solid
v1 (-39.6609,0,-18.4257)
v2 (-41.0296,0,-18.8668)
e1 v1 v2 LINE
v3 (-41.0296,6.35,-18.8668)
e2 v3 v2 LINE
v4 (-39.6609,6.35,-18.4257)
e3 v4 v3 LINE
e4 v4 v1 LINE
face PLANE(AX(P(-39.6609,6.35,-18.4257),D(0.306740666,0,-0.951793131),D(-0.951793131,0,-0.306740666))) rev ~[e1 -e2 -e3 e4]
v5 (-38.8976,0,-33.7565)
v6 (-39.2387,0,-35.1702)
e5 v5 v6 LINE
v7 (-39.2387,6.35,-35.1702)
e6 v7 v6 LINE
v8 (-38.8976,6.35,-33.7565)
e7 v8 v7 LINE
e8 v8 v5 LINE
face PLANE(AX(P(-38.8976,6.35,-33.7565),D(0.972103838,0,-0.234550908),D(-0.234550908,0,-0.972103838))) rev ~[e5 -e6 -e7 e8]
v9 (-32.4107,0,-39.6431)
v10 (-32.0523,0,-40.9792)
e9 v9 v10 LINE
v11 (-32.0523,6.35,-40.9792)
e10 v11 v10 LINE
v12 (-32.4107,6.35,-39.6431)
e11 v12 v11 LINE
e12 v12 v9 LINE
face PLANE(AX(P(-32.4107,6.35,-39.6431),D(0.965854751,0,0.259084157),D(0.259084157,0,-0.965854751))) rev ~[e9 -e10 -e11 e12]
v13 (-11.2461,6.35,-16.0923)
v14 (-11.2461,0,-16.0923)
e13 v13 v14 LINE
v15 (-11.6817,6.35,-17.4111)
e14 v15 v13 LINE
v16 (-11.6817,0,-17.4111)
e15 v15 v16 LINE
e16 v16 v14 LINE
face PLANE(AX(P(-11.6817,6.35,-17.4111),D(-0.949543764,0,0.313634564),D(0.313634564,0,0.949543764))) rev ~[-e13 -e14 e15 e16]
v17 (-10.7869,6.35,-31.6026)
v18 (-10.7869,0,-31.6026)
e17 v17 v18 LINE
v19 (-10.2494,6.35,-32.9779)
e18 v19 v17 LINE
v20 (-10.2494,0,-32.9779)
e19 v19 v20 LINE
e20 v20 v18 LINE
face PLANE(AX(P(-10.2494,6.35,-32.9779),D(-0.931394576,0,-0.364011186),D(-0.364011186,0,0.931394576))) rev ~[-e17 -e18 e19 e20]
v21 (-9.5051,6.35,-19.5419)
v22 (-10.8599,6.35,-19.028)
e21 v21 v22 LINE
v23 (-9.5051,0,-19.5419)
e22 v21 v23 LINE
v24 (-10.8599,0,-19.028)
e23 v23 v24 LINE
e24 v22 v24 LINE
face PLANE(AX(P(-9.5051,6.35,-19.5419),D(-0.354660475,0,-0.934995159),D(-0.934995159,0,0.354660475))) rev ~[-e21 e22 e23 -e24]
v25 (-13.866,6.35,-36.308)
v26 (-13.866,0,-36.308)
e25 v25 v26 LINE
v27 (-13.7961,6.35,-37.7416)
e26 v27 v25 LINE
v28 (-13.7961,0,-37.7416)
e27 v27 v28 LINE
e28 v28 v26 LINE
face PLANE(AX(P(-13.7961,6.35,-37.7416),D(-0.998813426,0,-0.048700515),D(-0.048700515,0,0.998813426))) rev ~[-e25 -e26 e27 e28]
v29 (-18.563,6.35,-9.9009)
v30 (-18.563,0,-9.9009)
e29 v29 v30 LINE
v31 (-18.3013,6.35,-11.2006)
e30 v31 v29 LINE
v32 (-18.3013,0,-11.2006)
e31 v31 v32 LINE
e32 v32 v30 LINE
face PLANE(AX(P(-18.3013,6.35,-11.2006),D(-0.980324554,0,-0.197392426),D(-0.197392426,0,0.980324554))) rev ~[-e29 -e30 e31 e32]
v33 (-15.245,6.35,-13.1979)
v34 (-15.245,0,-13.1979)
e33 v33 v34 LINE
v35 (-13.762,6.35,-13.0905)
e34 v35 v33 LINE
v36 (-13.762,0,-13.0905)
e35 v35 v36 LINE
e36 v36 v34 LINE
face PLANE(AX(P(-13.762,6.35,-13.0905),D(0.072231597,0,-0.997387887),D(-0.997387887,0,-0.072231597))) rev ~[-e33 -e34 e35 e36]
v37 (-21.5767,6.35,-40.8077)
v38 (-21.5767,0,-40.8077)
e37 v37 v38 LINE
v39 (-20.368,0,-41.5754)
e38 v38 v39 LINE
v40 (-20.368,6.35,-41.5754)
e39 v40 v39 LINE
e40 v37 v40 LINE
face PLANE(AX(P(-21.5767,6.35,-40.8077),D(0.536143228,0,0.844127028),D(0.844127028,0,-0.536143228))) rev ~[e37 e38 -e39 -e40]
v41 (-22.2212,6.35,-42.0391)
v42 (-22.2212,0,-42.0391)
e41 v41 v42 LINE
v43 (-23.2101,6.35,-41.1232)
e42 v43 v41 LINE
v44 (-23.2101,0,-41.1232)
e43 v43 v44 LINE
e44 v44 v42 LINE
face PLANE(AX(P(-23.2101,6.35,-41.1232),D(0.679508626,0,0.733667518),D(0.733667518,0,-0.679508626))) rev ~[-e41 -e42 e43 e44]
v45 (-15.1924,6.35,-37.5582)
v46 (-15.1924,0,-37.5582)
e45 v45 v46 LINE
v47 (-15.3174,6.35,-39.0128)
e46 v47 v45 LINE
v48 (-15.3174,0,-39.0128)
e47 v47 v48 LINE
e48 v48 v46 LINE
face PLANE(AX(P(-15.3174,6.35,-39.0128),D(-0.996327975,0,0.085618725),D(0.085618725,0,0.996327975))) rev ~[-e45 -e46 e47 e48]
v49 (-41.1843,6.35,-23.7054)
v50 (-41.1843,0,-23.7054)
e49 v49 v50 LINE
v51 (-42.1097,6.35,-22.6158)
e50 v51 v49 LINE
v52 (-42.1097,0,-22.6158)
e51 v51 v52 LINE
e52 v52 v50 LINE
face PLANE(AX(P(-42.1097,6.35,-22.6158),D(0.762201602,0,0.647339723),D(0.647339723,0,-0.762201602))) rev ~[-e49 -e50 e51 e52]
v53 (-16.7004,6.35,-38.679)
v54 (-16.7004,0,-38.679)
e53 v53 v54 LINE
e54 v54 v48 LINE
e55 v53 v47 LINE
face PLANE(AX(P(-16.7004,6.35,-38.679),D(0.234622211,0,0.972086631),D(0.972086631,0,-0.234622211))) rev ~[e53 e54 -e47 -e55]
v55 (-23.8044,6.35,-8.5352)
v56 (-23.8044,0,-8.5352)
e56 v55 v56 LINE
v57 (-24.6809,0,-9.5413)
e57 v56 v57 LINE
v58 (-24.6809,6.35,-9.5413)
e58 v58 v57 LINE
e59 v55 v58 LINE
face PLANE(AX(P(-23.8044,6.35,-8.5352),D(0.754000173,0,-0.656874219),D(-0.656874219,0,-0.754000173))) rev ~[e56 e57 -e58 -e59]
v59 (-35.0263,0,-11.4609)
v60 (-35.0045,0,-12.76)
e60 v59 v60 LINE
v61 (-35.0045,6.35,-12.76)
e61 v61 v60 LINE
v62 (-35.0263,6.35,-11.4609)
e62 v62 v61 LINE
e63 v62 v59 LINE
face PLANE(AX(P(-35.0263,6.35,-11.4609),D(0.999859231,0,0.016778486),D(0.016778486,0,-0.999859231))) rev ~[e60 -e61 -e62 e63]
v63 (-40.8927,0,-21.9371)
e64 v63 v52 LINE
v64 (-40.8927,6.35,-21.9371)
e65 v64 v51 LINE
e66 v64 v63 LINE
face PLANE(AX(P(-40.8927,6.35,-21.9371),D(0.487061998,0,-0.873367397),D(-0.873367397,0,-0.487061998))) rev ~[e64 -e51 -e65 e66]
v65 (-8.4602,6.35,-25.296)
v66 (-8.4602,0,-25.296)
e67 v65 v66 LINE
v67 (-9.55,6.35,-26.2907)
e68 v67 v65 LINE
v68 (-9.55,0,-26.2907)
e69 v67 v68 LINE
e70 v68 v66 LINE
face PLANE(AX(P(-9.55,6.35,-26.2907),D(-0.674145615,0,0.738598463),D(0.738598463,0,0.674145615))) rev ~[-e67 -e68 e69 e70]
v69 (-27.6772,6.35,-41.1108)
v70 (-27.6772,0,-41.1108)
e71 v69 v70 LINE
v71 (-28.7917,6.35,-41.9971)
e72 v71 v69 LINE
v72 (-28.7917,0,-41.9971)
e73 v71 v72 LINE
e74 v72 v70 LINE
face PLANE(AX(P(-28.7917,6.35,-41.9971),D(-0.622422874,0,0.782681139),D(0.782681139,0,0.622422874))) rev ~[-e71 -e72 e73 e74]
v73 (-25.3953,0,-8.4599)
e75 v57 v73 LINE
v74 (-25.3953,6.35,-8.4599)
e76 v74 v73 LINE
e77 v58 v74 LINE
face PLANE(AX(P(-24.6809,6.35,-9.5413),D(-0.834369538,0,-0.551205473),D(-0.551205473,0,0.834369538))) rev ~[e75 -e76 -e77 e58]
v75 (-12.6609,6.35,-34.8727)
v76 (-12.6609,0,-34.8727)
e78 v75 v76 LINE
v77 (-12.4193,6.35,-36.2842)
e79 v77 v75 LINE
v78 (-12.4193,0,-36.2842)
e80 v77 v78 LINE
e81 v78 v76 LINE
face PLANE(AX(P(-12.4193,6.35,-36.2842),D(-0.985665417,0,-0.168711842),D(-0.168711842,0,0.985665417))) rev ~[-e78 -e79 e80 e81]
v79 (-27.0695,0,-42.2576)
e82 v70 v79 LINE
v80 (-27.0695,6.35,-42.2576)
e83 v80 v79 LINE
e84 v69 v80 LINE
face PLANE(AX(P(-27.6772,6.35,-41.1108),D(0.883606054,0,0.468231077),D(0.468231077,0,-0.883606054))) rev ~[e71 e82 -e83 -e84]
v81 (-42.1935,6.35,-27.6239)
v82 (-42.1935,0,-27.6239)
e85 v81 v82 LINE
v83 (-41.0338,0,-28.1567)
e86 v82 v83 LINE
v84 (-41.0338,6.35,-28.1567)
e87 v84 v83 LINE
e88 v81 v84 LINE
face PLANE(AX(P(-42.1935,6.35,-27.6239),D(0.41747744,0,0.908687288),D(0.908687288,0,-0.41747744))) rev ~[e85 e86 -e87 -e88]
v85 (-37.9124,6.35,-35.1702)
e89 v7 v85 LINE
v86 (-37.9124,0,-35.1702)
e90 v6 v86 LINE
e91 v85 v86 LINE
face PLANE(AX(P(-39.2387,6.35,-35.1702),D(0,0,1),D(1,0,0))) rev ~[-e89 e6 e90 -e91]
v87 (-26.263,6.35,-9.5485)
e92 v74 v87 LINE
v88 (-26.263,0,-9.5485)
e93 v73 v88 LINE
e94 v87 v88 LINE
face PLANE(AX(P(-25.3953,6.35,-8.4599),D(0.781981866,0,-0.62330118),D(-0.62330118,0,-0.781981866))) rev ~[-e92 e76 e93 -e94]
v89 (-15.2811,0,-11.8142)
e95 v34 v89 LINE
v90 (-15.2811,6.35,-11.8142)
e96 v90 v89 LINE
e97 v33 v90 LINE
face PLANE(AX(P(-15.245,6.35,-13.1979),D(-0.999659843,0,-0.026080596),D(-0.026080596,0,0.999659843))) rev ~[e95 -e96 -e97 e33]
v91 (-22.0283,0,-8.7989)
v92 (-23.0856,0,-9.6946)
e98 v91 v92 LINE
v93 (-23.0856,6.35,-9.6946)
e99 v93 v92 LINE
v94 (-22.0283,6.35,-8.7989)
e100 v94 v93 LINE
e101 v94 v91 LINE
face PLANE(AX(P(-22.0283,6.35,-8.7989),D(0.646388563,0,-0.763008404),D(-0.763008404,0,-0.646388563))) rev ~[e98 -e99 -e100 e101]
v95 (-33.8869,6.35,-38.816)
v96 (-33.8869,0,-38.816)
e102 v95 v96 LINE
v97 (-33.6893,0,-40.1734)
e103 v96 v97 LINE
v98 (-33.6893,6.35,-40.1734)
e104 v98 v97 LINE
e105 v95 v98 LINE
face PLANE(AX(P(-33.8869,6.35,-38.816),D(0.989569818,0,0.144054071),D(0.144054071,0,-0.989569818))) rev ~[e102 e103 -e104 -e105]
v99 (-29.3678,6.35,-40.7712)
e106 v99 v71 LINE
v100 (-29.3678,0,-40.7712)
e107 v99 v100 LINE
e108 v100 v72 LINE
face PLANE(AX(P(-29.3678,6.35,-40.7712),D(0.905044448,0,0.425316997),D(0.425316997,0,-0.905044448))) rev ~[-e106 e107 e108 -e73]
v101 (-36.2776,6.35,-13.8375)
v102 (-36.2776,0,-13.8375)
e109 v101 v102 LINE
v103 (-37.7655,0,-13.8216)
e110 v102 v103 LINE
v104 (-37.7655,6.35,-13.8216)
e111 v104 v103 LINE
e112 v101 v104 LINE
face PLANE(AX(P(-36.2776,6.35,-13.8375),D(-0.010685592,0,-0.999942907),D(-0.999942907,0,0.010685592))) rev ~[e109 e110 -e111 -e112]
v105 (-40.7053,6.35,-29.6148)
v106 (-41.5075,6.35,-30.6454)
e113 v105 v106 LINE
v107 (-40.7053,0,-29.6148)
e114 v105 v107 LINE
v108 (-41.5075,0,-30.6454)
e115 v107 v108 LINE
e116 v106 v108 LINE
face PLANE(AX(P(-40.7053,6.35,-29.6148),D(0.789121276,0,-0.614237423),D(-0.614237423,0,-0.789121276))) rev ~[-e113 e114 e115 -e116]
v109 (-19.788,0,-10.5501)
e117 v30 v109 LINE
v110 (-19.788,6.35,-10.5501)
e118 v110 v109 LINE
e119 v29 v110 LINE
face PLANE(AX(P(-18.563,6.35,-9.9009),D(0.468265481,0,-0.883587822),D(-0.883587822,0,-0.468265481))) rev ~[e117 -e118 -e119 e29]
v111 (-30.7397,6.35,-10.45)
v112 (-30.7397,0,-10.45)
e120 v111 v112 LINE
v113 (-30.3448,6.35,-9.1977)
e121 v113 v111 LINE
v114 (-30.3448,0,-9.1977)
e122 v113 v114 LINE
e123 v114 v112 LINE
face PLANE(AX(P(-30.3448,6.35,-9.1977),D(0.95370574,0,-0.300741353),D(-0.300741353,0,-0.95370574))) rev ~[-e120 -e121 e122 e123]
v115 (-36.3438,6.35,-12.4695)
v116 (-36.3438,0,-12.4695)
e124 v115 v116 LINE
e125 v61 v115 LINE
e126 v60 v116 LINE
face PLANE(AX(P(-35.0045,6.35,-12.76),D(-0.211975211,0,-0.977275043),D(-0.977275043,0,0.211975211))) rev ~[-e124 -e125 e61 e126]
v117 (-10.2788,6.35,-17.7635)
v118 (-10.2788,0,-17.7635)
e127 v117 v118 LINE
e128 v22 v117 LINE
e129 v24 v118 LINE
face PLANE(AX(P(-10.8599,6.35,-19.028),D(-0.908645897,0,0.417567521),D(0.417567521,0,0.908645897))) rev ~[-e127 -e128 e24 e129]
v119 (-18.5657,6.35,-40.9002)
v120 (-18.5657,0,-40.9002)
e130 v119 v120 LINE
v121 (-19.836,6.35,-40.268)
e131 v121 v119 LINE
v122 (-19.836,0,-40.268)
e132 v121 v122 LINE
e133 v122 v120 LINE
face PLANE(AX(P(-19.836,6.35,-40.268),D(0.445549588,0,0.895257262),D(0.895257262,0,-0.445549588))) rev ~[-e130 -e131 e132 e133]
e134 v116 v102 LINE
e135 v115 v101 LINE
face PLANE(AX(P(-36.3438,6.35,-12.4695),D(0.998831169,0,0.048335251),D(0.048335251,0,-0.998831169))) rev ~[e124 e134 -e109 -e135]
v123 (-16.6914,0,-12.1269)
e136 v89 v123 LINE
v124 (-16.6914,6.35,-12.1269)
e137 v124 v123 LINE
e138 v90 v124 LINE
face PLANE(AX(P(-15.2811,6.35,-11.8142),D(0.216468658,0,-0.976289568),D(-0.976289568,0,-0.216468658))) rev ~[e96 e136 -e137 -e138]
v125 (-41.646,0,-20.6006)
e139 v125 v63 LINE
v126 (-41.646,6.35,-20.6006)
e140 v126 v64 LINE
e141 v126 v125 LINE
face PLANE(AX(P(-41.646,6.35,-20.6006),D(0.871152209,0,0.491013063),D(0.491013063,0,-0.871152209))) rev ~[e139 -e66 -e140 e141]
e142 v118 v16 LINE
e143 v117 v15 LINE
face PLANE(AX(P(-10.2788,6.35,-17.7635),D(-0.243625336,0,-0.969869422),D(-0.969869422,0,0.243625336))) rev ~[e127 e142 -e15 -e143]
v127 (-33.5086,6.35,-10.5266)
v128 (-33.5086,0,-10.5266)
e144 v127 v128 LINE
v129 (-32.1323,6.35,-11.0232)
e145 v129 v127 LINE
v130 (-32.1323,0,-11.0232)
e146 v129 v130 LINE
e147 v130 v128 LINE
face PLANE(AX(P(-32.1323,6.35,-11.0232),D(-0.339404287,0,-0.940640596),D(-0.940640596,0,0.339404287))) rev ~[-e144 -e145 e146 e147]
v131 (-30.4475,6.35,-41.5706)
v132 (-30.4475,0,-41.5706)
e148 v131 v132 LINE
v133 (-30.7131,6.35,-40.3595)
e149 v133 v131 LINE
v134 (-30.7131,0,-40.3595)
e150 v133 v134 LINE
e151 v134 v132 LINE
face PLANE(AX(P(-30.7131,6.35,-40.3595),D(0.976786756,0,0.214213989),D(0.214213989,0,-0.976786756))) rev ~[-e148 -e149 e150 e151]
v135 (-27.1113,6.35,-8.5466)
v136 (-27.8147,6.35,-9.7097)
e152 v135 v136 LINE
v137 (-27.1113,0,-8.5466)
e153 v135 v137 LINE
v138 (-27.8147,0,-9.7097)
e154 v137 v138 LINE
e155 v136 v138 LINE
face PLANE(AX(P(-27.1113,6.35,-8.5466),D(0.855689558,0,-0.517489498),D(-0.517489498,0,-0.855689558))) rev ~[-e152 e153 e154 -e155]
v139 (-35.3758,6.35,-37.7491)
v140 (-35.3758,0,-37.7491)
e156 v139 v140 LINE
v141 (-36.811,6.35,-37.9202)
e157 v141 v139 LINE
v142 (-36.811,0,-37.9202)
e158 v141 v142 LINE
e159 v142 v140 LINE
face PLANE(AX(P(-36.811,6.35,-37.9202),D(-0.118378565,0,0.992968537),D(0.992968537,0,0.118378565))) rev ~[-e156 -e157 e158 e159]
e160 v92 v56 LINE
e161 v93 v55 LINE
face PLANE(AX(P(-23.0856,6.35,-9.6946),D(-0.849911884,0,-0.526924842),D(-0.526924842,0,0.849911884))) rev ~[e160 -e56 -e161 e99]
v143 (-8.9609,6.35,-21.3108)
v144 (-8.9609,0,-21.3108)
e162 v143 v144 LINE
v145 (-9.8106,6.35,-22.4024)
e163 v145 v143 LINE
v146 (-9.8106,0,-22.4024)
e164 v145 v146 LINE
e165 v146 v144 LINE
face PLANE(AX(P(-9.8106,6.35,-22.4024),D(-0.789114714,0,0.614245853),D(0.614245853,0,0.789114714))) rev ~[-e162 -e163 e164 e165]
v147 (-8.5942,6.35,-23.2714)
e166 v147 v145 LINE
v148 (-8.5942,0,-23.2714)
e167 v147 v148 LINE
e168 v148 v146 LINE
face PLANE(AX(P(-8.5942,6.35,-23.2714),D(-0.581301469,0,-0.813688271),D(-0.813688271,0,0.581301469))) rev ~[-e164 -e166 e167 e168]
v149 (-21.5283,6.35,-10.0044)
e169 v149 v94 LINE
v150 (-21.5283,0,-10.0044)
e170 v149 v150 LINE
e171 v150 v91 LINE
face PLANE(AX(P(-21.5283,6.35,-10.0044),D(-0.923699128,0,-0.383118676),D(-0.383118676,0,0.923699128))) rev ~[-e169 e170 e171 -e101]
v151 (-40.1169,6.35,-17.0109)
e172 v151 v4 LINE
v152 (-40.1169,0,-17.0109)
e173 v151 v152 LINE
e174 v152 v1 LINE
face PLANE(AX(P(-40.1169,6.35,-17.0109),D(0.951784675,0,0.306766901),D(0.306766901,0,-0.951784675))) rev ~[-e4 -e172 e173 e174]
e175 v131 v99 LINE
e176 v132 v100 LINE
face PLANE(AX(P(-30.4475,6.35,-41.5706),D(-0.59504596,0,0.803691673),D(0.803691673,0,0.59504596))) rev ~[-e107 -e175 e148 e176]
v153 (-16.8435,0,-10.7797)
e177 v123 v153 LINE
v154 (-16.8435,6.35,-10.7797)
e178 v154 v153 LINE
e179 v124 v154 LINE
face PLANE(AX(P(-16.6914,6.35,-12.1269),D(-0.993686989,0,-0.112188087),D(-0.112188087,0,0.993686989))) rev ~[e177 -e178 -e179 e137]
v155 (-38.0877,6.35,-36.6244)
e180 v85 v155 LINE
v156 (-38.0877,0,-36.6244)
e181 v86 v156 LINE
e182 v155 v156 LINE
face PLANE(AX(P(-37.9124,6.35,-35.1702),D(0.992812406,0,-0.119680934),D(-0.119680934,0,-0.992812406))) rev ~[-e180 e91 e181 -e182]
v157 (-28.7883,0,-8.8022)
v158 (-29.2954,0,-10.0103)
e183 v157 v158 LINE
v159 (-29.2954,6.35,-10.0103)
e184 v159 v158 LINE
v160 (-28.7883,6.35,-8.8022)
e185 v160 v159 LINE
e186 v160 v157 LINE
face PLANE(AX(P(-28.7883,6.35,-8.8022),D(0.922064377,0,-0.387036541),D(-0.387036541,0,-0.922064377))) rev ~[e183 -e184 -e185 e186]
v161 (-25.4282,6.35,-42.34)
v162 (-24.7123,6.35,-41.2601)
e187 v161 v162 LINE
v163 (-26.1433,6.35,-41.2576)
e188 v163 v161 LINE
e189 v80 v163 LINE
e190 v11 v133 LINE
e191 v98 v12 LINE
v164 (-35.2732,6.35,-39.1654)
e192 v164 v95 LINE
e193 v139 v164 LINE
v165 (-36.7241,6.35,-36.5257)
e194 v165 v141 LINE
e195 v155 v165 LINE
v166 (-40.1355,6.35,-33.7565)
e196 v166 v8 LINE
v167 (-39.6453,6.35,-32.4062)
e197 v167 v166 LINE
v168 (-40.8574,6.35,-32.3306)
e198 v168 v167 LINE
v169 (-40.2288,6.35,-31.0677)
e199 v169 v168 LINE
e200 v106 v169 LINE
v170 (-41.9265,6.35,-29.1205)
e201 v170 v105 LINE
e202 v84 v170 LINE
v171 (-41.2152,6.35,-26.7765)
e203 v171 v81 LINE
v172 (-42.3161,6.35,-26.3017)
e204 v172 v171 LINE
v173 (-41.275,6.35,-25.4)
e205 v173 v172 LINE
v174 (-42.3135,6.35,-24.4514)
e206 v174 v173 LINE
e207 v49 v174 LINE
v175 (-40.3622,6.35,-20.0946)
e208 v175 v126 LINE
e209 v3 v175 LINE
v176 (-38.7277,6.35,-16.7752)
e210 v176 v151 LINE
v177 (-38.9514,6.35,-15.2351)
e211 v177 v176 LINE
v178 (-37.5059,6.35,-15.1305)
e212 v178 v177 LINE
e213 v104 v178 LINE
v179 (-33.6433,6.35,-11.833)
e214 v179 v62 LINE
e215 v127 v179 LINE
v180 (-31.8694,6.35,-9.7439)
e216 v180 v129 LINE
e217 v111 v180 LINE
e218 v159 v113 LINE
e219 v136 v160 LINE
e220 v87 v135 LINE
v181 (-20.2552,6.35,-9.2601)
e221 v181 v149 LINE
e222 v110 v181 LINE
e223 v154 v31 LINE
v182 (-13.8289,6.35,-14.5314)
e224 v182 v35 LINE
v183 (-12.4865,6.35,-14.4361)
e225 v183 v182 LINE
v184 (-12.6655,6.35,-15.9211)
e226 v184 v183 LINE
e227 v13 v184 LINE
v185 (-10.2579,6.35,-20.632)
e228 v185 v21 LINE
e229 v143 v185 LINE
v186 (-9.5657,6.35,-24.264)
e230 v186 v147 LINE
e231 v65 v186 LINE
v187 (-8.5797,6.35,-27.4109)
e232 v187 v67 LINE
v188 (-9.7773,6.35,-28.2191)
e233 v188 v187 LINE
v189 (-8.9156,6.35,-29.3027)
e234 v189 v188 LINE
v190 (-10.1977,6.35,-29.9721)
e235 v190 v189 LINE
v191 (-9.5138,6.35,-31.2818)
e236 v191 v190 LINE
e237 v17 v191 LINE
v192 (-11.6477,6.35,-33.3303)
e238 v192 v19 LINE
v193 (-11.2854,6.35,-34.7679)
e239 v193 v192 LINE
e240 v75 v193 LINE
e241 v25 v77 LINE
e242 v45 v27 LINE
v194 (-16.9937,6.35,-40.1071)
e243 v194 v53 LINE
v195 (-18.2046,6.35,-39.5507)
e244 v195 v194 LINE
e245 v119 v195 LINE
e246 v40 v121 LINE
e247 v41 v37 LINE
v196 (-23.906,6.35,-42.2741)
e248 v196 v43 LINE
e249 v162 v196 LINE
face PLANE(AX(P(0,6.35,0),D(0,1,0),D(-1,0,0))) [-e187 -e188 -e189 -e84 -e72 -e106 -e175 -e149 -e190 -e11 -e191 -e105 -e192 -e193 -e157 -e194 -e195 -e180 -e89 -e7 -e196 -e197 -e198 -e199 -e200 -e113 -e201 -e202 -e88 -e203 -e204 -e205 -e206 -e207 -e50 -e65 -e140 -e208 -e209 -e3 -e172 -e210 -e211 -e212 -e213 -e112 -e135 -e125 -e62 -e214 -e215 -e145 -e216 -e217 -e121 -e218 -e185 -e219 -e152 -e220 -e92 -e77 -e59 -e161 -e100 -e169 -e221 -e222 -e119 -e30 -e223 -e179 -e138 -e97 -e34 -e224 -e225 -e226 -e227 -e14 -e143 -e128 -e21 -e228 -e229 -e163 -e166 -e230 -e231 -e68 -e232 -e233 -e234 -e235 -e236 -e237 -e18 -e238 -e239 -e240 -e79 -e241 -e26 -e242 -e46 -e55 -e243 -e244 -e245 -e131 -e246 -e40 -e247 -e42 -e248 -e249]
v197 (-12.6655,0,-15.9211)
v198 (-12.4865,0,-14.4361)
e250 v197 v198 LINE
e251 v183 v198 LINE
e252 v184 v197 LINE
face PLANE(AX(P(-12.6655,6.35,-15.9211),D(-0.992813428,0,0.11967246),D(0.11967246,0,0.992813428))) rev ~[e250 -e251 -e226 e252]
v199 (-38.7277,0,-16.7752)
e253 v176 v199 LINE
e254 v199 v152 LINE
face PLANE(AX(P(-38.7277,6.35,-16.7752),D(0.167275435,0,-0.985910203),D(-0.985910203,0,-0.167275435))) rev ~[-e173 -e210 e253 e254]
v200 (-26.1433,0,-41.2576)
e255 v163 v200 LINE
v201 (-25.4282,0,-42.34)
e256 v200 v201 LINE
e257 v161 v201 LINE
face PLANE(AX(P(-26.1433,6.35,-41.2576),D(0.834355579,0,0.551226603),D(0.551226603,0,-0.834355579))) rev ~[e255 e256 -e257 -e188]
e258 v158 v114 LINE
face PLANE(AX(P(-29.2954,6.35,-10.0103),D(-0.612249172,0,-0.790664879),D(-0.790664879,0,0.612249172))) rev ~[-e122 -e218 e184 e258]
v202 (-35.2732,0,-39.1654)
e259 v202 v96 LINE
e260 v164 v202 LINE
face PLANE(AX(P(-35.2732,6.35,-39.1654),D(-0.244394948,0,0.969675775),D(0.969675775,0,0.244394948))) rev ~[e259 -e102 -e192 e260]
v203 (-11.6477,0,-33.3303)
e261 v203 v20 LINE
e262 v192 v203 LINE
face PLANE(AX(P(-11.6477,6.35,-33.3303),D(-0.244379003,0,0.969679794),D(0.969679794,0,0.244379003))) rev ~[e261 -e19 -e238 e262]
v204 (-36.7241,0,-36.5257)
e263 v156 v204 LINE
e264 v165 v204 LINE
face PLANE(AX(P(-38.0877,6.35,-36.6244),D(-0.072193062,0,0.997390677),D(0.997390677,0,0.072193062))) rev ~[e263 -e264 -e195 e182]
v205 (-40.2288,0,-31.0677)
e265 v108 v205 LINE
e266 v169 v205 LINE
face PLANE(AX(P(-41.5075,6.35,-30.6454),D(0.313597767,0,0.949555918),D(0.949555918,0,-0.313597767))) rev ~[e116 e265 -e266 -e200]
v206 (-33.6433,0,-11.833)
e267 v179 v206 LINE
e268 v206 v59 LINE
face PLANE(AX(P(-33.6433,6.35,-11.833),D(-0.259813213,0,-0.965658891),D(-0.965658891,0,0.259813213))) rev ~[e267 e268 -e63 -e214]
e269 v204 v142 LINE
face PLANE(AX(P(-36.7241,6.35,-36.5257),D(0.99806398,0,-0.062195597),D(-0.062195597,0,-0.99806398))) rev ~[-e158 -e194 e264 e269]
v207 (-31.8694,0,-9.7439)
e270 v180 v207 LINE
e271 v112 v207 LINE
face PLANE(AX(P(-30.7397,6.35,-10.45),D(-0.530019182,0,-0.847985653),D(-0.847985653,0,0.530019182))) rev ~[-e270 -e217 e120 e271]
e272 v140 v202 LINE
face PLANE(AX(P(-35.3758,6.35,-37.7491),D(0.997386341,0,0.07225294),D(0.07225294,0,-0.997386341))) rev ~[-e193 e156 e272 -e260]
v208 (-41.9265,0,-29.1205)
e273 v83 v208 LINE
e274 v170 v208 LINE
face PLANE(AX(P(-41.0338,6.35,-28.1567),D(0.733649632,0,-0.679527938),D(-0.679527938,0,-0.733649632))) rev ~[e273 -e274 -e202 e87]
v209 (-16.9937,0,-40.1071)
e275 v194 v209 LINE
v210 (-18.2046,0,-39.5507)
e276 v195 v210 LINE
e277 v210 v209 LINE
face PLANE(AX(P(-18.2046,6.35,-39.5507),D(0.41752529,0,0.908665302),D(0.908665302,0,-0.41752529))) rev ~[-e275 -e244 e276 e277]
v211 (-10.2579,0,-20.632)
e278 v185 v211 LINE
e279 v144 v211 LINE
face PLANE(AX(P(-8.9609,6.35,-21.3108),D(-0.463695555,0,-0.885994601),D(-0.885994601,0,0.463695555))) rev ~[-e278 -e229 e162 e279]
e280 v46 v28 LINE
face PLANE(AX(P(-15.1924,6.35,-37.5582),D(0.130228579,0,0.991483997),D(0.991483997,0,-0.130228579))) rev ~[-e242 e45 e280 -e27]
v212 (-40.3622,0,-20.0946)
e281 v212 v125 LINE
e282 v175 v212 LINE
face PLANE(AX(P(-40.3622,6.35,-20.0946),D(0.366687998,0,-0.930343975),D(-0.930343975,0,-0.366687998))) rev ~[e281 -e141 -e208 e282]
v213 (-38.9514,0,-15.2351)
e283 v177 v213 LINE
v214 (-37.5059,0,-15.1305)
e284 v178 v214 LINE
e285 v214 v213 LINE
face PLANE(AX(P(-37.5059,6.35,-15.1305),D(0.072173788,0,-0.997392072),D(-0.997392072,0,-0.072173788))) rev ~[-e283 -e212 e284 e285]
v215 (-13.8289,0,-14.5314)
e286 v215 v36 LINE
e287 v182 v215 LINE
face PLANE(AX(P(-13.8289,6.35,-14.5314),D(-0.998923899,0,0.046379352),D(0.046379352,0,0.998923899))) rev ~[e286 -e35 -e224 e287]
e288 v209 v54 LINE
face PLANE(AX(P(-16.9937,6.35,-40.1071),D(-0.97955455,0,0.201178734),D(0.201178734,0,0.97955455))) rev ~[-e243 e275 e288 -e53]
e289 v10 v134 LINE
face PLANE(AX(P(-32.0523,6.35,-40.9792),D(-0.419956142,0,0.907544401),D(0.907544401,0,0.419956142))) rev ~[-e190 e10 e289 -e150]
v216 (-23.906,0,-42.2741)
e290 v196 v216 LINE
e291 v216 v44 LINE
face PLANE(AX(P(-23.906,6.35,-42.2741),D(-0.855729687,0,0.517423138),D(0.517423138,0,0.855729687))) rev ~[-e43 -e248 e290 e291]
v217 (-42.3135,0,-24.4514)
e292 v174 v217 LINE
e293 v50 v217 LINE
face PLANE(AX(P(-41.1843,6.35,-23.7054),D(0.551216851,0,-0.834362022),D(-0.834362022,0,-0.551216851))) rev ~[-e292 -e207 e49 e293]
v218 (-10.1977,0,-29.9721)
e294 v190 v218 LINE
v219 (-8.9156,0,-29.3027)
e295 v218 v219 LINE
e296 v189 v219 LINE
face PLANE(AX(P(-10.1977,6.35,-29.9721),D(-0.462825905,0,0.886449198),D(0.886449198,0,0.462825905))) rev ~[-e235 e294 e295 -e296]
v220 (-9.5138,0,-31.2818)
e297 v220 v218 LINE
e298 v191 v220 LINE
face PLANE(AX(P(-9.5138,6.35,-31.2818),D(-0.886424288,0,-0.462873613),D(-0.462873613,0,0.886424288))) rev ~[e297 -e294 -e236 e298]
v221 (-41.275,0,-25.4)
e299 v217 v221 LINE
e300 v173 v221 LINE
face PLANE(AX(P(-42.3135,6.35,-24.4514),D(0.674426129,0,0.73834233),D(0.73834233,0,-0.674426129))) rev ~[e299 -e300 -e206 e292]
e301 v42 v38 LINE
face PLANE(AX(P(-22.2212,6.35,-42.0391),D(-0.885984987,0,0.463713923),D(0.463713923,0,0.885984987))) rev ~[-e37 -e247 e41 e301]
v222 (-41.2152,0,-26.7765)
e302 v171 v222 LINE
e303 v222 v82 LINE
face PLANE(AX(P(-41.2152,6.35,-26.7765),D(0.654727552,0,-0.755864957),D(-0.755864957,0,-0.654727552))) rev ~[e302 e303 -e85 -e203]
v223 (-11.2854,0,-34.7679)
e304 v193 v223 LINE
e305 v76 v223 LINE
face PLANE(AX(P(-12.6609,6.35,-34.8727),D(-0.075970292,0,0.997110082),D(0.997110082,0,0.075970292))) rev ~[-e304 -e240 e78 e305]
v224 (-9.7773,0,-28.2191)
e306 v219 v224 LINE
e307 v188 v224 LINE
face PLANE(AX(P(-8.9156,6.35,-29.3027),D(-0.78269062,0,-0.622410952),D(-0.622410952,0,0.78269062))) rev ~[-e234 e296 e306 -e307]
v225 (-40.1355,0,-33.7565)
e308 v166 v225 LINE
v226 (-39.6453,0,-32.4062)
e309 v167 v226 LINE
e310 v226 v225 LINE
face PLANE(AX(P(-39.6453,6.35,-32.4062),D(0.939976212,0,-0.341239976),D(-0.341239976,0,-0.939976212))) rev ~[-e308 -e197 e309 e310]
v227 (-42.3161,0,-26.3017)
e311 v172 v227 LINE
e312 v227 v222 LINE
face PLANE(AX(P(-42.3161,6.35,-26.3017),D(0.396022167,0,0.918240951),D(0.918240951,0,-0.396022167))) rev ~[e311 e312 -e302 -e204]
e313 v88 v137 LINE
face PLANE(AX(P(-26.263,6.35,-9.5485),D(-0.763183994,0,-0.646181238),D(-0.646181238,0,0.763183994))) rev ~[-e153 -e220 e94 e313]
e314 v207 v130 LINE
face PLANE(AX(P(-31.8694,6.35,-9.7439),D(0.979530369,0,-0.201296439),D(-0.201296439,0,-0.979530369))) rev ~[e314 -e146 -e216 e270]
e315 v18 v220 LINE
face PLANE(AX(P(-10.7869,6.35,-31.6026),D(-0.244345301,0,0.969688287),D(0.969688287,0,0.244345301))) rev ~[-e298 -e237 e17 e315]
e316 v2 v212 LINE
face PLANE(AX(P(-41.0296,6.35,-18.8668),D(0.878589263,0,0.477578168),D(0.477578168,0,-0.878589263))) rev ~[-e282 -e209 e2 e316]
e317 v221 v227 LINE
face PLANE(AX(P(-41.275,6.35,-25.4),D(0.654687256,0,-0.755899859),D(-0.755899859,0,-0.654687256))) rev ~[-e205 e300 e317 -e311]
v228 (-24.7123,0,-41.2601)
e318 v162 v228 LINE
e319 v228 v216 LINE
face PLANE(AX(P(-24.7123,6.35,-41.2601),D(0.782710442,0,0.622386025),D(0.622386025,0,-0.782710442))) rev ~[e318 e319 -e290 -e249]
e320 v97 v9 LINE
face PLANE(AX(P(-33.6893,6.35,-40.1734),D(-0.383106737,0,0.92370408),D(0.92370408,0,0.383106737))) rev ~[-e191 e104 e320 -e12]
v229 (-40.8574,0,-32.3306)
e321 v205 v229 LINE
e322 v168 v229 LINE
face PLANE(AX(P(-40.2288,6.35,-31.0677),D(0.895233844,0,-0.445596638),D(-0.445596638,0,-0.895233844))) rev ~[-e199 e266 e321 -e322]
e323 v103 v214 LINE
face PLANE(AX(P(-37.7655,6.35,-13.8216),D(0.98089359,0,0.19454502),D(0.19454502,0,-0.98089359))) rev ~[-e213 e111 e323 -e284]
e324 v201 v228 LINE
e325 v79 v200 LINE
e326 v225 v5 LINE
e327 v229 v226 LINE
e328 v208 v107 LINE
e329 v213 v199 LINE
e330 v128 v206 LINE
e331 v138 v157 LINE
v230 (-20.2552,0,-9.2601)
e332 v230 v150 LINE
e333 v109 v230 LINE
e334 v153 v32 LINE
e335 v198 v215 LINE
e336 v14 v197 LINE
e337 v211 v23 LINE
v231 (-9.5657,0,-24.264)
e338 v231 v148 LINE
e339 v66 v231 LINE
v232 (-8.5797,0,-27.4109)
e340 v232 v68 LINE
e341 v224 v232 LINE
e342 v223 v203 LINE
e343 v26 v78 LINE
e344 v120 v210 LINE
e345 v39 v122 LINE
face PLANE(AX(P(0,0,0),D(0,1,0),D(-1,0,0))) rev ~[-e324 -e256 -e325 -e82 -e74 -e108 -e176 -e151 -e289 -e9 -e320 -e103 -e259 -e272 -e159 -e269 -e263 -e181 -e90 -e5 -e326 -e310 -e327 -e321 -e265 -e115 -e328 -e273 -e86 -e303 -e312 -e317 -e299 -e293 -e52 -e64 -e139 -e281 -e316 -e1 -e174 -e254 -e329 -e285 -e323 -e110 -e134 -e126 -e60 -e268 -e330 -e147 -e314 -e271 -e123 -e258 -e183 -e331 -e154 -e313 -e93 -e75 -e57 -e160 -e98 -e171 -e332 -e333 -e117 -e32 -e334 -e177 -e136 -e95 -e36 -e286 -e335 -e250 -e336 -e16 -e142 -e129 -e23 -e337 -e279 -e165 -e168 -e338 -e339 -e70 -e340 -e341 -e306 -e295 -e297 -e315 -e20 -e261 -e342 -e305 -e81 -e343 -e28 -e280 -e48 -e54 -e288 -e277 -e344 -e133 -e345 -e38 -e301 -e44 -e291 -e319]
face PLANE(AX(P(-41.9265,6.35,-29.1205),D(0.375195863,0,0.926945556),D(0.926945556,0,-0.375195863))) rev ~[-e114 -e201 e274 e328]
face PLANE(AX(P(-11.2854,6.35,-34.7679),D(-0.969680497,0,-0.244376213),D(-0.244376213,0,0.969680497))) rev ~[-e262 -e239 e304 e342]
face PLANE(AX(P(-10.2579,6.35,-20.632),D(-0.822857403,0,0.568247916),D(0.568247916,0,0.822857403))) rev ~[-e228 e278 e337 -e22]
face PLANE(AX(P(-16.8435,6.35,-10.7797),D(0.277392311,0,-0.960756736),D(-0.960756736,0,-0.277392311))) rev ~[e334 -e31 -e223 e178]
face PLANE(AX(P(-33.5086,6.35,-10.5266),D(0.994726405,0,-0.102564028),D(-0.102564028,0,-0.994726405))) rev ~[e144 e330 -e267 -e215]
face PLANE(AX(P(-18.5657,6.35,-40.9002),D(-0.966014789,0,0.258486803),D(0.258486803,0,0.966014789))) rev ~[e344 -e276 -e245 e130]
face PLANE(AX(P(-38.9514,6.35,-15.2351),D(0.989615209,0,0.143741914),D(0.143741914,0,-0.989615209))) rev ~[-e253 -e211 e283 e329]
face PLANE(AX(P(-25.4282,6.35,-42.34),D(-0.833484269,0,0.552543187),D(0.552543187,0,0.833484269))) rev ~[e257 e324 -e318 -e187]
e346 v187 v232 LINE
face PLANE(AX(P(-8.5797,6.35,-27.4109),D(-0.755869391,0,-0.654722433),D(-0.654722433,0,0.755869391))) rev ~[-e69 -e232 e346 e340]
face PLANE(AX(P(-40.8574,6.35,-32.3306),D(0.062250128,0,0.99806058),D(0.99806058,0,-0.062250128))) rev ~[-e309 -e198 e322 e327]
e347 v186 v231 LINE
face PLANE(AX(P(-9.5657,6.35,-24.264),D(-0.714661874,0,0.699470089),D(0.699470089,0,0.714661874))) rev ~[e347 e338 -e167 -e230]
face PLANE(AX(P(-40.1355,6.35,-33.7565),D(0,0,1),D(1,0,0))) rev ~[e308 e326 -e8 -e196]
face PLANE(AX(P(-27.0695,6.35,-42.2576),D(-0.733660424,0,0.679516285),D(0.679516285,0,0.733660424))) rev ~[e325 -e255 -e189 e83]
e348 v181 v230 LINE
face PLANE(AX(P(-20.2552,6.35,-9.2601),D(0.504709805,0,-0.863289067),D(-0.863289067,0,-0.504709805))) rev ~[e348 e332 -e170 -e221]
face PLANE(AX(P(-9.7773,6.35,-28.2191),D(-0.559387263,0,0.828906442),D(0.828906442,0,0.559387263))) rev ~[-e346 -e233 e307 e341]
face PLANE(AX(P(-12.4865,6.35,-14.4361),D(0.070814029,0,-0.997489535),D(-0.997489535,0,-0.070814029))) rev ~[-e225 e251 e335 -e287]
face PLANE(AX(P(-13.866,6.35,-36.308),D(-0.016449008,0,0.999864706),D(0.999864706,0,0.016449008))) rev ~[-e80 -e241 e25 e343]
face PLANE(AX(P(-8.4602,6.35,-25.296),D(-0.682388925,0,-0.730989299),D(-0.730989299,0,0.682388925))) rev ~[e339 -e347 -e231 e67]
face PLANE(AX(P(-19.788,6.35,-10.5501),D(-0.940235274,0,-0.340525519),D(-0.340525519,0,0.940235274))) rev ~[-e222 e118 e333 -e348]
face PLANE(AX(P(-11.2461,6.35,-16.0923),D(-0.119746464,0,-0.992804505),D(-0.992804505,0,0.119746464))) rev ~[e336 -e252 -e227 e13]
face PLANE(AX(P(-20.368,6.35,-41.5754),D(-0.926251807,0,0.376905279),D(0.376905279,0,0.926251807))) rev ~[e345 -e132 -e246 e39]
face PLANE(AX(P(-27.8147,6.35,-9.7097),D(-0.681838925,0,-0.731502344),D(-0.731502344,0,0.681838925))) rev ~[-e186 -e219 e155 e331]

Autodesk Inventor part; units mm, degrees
ref_plane "YZ Plane" through (0, 0, 0) normal (1, 0, 0) x (0, 1, 0)
ref_plane "XZ Plane" through (0, 0, 0) normal (0, 1, 0) x (-1, 0, 0)
ref_plane "XY Plane" through (0, 0, 0) normal (0, 0, 1) x (1, 0, 0)
sketch "Sketch1" plane through (0, 0, 0) normal (0, 1, 0) x (-1, 0, 0)
  line L0 (0, 95.0647) -> (51.2326, 95.0647)
  line L1 (51.2326, 95.0647) -> (51.2326, -90.3472)
  line L2 (51.2326, -90.3472) -> (0, -90.3472)
  line L3 (0, -90.3472) -> (0, 95.0647)
  point P0 (0, 0)
extrude "Extrusion1" add sketch "Sketch1" along normal blind 6.35
sketch "Sketch2" plane through (0, 6.35, 0) normal (0, 1, 0) x (1, 0, 0)
  line L0 (-41.275, 25.4) -> (-42.3161, 26.3017)
  line L1 (-42.3161, 26.3017) -> (-41.2152, 26.7765)
  line L2 (-41.2152, 26.7765) -> (-42.1935, 27.6239)
  line L3 (-42.1935, 27.6239) -> (-41.0338, 28.1567)
  line L4 (-41.0338, 28.1567) -> (-41.9265, 29.1205)
  line L5 (-41.9265, 29.1205) -> (-40.7053, 29.6148)
  line L6 (-40.2288, 31.0677) -> (-40.8574, 32.3306)
  line L7 (-40.8574, 32.3306) -> (-39.6453, 32.4062)
  line L8 (-40.7053, 29.6148) -> (-41.5075, 30.6454)
  line L9 (-41.5075, 30.6454) -> (-40.2288, 31.0677)
  line L10 (-39.6453, 32.4062) -> (-40.1355, 33.7565)
  line L11 (-40.1355, 33.7565) -> (-38.8976, 33.7565)
  line L12 (-38.8976, 33.7565) -> (-39.2387, 35.1702)
  line L13 (-39.2387, 35.1702) -> (-37.9124, 35.1702)
  line L14 (-37.9124, 35.1702) -> (-38.0877, 36.6244)
  line L15 (-38.0877, 36.6244) -> (-36.7241, 36.5257)
  line L16 (-36.7241, 36.5257) -> (-36.811, 37.9202)
  line L17 (-36.811, 37.9202) -> (-35.3758, 37.7491)
  line L18 (-35.3758, 37.7491) -> (-35.2732, 39.1654)
  line L19 (-35.2732, 39.1654) -> (-33.8869, 38.816)
  line L20 (-33.8869, 38.816) -> (-33.6893, 40.1734)
  line L21 (-33.6893, 40.1734) -> (-32.4107, 39.6431)
  line L22 (-32.4107, 39.6431) -> (-32.0523, 40.9792)
  line L23 (-32.0523, 40.9792) -> (-30.7131, 40.3595)
  line L24 (-30.7131, 40.3595) -> (-30.4475, 41.5706)
  line L25 (-30.4475, 41.5706) -> (-29.3678, 40.7712)
  line L26 (-29.3678, 40.7712) -> (-28.7917, 41.9971)
  line L27 (-28.7917, 41.9971) -> (-27.6772, 41.1108)
  line L28 (-27.6772, 41.1108) -> (-27.0695, 42.2576)
  line L29 (-27.0695, 42.2576) -> (-26.1433, 41.2576)
  line L30 (-26.1433, 41.2576) -> (-25.4282, 42.34)
  line L31 (-25.4282, 42.34) -> (-24.7123, 41.2601)
  line L32 (-24.7123, 41.2601) -> (-23.906, 42.2741)
  line L33 (-23.906, 42.2741) -> (-23.2101, 41.1232)
  line L34 (-23.2101, 41.1232) -> (-22.2212, 42.0391)
  line L35 (-22.2212, 42.0391) -> (-21.5767, 40.8077)
  line L36 (-21.5767, 40.8077) -> (-20.368, 41.5754)
  line L37 (-20.368, 41.5754) -> (-19.836, 40.268)
  line L38 (-19.836, 40.268) -> (-18.5657, 40.9002)
  line L39 (-18.5657, 40.9002) -> (-18.2046, 39.5507)
  line L40 (-18.2046, 39.5507) -> (-16.9937, 40.1071)
  line L41 (-16.9937, 40.1071) -> (-16.7004, 38.679)
  line L42 (-16.7004, 38.679) -> (-15.3174, 39.0128)
  line L43 (-15.3174, 39.0128) -> (-15.1924, 37.5582)
  line L44 (-15.1924, 37.5582) -> (-13.7961, 37.7416)
  line L45 (-13.7961, 37.7416) -> (-13.866, 36.308)
  line L46 (-13.866, 36.308) -> (-12.4193, 36.2842)
  line L47 (-12.4193, 36.2842) -> (-12.6609, 34.8727)
  line L48 (-12.6609, 34.8727) -> (-11.2854, 34.7679)
  line L49 (-11.2854, 34.7679) -> (-11.6477, 33.3303)
  line L50 (-11.6477, 33.3303) -> (-10.2494, 32.9779)
  line L51 (-10.2494, 32.9779) -> (-10.7869, 31.6026)
  line L52 (-10.7869, 31.6026) -> (-9.5138, 31.2818)
  line L53 (-9.5138, 31.2818) -> (-10.1977, 29.9721)
  line L54 (-10.1977, 29.9721) -> (-8.9156, 29.3027)
  line L55 (-8.9156, 29.3027) -> (-9.7773, 28.2191)
  line L56 (-9.7773, 28.2191) -> (-8.5797, 27.4109)
  line L57 (-8.5797, 27.4109) -> (-9.55, 26.2907)
  line L58 (-9.55, 26.2907) -> (-8.4602, 25.296)
  line L59 (-8.4602, 25.296) -> (-9.5657, 24.264)
  line L60 (-9.5657, 24.264) -> (-8.5942, 23.2714)
  line L61 (-8.5942, 23.2714) -> (-9.8106, 22.4024)
  line L62 (-9.8106, 22.4024) -> (-8.9609, 21.3108)
  line L63 (-8.9609, 21.3108) -> (-10.2579, 20.632)
  line L64 (-10.2579, 20.632) -> (-9.5051, 19.5419)
  line L65 (-9.5051, 19.5419) -> (-10.8599, 19.028)
  line L66 (-10.8599, 19.028) -> (-10.2788, 17.7635)
  line L67 (-10.2788, 17.7635) -> (-11.6817, 17.4111)
  line L68 (-11.6817, 17.4111) -> (-11.2461, 16.0923)
  line L69 (-11.2461, 16.0923) -> (-12.6655, 15.9211)
  line L70 (-12.6655, 15.9211) -> (-12.4865, 14.4361)
  line L71 (-12.4865, 14.4361) -> (-13.8289, 14.5314)
  line L72 (-13.8289, 14.5314) -> (-13.762, 13.0905)
  line L73 (-13.762, 13.0905) -> (-15.245, 13.1979)
  line L74 (-15.245, 13.1979) -> (-15.2811, 11.8142)
  line L75 (-15.2811, 11.8142) -> (-16.6914, 12.1269)
  line L76 (-16.6914, 12.1269) -> (-16.8435, 10.7797)
  line L77 (-16.8435, 10.7797) -> (-18.3013, 11.2006)
  line L78 (-18.3013, 11.2006) -> (-18.563, 9.9009)
  line L79 (-18.563, 9.9009) -> (-19.788, 10.5501)
  line L80 (-19.788, 10.5501) -> (-20.2552, 9.2601)
  line L81 (-20.2552, 9.2601) -> (-21.5283, 10.0044)
  line L82 (-21.5283, 10.0044) -> (-22.0283, 8.7989)
  line L83 (-22.0283, 8.7989) -> (-23.0856, 9.6946)
  line L84 (-23.0856, 9.6946) -> (-23.8044, 8.5352)
  line L85 (-23.8044, 8.5352) -> (-24.6809, 9.5413)
  line L86 (-24.6809, 9.5413) -> (-25.3953, 8.4599)
  line L87 (-25.3953, 8.4599) -> (-26.263, 9.5485)
  line L88 (-26.263, 9.5485) -> (-27.1113, 8.5466)
  line L89 (-27.1113, 8.5466) -> (-27.8147, 9.7097)
  line L90 (-27.8147, 9.7097) -> (-28.7883, 8.8022)
  line L91 (-28.7883, 8.8022) -> (-29.2954, 10.0103)
  line L92 (-29.2954, 10.0103) -> (-30.3448, 9.1977)
  line L93 (-30.3448, 9.1977) -> (-30.7397, 10.45)
  line L94 (-30.7397, 10.45) -> (-31.8694, 9.7439)
  line L95 (-31.8694, 9.7439) -> (-32.1323, 11.0232)
  line L96 (-32.1323, 11.0232) -> (-33.5086, 10.5266)
  line L97 (-33.5086, 10.5266) -> (-33.6433, 11.833)
  line L98 (-33.6433, 11.833) -> (-35.0263, 11.4609)
  line L99 (-35.0263, 11.4609) -> (-35.0045, 12.76)
  line L100 (-35.0045, 12.76) -> (-36.3438, 12.4695)
  line L101 (-36.3438, 12.4695) -> (-36.2776, 13.8375)
  line L102 (-36.2776, 13.8375) -> (-37.7655, 13.8216)
  line L103 (-37.7655, 13.8216) -> (-37.5059, 15.1305)
  line L104 (-37.5059, 15.1305) -> (-38.9514, 15.2351)
  line L105 (-38.9514, 15.2351) -> (-38.7277, 16.7752)
  line L106 (-38.7277, 16.7752) -> (-40.1169, 17.0109)
  line L107 (-40.1169, 17.0109) -> (-39.6609, 18.4257)
  line L108 (-39.6609, 18.4257) -> (-41.0296, 18.8668)
  line L109 (-41.0296, 18.8668) -> (-40.3622, 20.0946)
  line L110 (-40.3622, 20.0946) -> (-41.646, 20.6006)
  line L111 (-41.646, 20.6006) -> (-40.8927, 21.9371)
  line L112 (-40.8927, 21.9371) -> (-42.1097, 22.6158)
  line L113 (-42.1097, 22.6158) -> (-41.1843, 23.7054)
  line L114 (-41.1843, 23.7054) -> (-42.3135, 24.4514)
  line L115 (-42.3135, 24.4514) -> (-41.275, 25.4)
  line L116 (-51.2326, -95.0647) -> (0, -95.0647) projected
  line L117 (0, 90.3472) -> (-51.2326, 90.3472) projected
  line L118 (0, -95.0647) -> (-51.2326, -95.0647)
  line L119 (-51.2326, -95.0647) -> (-51.2326, 90.3472)
  line L120 (-51.2326, 90.3472) -> (0, 90.3472)
  line L121 (0, 90.3472) -> (0, -95.0647)
  point P0 (0, 0)
extrude "Extrusion2" cut sketch "Sketch2" against normal blind 6.35
